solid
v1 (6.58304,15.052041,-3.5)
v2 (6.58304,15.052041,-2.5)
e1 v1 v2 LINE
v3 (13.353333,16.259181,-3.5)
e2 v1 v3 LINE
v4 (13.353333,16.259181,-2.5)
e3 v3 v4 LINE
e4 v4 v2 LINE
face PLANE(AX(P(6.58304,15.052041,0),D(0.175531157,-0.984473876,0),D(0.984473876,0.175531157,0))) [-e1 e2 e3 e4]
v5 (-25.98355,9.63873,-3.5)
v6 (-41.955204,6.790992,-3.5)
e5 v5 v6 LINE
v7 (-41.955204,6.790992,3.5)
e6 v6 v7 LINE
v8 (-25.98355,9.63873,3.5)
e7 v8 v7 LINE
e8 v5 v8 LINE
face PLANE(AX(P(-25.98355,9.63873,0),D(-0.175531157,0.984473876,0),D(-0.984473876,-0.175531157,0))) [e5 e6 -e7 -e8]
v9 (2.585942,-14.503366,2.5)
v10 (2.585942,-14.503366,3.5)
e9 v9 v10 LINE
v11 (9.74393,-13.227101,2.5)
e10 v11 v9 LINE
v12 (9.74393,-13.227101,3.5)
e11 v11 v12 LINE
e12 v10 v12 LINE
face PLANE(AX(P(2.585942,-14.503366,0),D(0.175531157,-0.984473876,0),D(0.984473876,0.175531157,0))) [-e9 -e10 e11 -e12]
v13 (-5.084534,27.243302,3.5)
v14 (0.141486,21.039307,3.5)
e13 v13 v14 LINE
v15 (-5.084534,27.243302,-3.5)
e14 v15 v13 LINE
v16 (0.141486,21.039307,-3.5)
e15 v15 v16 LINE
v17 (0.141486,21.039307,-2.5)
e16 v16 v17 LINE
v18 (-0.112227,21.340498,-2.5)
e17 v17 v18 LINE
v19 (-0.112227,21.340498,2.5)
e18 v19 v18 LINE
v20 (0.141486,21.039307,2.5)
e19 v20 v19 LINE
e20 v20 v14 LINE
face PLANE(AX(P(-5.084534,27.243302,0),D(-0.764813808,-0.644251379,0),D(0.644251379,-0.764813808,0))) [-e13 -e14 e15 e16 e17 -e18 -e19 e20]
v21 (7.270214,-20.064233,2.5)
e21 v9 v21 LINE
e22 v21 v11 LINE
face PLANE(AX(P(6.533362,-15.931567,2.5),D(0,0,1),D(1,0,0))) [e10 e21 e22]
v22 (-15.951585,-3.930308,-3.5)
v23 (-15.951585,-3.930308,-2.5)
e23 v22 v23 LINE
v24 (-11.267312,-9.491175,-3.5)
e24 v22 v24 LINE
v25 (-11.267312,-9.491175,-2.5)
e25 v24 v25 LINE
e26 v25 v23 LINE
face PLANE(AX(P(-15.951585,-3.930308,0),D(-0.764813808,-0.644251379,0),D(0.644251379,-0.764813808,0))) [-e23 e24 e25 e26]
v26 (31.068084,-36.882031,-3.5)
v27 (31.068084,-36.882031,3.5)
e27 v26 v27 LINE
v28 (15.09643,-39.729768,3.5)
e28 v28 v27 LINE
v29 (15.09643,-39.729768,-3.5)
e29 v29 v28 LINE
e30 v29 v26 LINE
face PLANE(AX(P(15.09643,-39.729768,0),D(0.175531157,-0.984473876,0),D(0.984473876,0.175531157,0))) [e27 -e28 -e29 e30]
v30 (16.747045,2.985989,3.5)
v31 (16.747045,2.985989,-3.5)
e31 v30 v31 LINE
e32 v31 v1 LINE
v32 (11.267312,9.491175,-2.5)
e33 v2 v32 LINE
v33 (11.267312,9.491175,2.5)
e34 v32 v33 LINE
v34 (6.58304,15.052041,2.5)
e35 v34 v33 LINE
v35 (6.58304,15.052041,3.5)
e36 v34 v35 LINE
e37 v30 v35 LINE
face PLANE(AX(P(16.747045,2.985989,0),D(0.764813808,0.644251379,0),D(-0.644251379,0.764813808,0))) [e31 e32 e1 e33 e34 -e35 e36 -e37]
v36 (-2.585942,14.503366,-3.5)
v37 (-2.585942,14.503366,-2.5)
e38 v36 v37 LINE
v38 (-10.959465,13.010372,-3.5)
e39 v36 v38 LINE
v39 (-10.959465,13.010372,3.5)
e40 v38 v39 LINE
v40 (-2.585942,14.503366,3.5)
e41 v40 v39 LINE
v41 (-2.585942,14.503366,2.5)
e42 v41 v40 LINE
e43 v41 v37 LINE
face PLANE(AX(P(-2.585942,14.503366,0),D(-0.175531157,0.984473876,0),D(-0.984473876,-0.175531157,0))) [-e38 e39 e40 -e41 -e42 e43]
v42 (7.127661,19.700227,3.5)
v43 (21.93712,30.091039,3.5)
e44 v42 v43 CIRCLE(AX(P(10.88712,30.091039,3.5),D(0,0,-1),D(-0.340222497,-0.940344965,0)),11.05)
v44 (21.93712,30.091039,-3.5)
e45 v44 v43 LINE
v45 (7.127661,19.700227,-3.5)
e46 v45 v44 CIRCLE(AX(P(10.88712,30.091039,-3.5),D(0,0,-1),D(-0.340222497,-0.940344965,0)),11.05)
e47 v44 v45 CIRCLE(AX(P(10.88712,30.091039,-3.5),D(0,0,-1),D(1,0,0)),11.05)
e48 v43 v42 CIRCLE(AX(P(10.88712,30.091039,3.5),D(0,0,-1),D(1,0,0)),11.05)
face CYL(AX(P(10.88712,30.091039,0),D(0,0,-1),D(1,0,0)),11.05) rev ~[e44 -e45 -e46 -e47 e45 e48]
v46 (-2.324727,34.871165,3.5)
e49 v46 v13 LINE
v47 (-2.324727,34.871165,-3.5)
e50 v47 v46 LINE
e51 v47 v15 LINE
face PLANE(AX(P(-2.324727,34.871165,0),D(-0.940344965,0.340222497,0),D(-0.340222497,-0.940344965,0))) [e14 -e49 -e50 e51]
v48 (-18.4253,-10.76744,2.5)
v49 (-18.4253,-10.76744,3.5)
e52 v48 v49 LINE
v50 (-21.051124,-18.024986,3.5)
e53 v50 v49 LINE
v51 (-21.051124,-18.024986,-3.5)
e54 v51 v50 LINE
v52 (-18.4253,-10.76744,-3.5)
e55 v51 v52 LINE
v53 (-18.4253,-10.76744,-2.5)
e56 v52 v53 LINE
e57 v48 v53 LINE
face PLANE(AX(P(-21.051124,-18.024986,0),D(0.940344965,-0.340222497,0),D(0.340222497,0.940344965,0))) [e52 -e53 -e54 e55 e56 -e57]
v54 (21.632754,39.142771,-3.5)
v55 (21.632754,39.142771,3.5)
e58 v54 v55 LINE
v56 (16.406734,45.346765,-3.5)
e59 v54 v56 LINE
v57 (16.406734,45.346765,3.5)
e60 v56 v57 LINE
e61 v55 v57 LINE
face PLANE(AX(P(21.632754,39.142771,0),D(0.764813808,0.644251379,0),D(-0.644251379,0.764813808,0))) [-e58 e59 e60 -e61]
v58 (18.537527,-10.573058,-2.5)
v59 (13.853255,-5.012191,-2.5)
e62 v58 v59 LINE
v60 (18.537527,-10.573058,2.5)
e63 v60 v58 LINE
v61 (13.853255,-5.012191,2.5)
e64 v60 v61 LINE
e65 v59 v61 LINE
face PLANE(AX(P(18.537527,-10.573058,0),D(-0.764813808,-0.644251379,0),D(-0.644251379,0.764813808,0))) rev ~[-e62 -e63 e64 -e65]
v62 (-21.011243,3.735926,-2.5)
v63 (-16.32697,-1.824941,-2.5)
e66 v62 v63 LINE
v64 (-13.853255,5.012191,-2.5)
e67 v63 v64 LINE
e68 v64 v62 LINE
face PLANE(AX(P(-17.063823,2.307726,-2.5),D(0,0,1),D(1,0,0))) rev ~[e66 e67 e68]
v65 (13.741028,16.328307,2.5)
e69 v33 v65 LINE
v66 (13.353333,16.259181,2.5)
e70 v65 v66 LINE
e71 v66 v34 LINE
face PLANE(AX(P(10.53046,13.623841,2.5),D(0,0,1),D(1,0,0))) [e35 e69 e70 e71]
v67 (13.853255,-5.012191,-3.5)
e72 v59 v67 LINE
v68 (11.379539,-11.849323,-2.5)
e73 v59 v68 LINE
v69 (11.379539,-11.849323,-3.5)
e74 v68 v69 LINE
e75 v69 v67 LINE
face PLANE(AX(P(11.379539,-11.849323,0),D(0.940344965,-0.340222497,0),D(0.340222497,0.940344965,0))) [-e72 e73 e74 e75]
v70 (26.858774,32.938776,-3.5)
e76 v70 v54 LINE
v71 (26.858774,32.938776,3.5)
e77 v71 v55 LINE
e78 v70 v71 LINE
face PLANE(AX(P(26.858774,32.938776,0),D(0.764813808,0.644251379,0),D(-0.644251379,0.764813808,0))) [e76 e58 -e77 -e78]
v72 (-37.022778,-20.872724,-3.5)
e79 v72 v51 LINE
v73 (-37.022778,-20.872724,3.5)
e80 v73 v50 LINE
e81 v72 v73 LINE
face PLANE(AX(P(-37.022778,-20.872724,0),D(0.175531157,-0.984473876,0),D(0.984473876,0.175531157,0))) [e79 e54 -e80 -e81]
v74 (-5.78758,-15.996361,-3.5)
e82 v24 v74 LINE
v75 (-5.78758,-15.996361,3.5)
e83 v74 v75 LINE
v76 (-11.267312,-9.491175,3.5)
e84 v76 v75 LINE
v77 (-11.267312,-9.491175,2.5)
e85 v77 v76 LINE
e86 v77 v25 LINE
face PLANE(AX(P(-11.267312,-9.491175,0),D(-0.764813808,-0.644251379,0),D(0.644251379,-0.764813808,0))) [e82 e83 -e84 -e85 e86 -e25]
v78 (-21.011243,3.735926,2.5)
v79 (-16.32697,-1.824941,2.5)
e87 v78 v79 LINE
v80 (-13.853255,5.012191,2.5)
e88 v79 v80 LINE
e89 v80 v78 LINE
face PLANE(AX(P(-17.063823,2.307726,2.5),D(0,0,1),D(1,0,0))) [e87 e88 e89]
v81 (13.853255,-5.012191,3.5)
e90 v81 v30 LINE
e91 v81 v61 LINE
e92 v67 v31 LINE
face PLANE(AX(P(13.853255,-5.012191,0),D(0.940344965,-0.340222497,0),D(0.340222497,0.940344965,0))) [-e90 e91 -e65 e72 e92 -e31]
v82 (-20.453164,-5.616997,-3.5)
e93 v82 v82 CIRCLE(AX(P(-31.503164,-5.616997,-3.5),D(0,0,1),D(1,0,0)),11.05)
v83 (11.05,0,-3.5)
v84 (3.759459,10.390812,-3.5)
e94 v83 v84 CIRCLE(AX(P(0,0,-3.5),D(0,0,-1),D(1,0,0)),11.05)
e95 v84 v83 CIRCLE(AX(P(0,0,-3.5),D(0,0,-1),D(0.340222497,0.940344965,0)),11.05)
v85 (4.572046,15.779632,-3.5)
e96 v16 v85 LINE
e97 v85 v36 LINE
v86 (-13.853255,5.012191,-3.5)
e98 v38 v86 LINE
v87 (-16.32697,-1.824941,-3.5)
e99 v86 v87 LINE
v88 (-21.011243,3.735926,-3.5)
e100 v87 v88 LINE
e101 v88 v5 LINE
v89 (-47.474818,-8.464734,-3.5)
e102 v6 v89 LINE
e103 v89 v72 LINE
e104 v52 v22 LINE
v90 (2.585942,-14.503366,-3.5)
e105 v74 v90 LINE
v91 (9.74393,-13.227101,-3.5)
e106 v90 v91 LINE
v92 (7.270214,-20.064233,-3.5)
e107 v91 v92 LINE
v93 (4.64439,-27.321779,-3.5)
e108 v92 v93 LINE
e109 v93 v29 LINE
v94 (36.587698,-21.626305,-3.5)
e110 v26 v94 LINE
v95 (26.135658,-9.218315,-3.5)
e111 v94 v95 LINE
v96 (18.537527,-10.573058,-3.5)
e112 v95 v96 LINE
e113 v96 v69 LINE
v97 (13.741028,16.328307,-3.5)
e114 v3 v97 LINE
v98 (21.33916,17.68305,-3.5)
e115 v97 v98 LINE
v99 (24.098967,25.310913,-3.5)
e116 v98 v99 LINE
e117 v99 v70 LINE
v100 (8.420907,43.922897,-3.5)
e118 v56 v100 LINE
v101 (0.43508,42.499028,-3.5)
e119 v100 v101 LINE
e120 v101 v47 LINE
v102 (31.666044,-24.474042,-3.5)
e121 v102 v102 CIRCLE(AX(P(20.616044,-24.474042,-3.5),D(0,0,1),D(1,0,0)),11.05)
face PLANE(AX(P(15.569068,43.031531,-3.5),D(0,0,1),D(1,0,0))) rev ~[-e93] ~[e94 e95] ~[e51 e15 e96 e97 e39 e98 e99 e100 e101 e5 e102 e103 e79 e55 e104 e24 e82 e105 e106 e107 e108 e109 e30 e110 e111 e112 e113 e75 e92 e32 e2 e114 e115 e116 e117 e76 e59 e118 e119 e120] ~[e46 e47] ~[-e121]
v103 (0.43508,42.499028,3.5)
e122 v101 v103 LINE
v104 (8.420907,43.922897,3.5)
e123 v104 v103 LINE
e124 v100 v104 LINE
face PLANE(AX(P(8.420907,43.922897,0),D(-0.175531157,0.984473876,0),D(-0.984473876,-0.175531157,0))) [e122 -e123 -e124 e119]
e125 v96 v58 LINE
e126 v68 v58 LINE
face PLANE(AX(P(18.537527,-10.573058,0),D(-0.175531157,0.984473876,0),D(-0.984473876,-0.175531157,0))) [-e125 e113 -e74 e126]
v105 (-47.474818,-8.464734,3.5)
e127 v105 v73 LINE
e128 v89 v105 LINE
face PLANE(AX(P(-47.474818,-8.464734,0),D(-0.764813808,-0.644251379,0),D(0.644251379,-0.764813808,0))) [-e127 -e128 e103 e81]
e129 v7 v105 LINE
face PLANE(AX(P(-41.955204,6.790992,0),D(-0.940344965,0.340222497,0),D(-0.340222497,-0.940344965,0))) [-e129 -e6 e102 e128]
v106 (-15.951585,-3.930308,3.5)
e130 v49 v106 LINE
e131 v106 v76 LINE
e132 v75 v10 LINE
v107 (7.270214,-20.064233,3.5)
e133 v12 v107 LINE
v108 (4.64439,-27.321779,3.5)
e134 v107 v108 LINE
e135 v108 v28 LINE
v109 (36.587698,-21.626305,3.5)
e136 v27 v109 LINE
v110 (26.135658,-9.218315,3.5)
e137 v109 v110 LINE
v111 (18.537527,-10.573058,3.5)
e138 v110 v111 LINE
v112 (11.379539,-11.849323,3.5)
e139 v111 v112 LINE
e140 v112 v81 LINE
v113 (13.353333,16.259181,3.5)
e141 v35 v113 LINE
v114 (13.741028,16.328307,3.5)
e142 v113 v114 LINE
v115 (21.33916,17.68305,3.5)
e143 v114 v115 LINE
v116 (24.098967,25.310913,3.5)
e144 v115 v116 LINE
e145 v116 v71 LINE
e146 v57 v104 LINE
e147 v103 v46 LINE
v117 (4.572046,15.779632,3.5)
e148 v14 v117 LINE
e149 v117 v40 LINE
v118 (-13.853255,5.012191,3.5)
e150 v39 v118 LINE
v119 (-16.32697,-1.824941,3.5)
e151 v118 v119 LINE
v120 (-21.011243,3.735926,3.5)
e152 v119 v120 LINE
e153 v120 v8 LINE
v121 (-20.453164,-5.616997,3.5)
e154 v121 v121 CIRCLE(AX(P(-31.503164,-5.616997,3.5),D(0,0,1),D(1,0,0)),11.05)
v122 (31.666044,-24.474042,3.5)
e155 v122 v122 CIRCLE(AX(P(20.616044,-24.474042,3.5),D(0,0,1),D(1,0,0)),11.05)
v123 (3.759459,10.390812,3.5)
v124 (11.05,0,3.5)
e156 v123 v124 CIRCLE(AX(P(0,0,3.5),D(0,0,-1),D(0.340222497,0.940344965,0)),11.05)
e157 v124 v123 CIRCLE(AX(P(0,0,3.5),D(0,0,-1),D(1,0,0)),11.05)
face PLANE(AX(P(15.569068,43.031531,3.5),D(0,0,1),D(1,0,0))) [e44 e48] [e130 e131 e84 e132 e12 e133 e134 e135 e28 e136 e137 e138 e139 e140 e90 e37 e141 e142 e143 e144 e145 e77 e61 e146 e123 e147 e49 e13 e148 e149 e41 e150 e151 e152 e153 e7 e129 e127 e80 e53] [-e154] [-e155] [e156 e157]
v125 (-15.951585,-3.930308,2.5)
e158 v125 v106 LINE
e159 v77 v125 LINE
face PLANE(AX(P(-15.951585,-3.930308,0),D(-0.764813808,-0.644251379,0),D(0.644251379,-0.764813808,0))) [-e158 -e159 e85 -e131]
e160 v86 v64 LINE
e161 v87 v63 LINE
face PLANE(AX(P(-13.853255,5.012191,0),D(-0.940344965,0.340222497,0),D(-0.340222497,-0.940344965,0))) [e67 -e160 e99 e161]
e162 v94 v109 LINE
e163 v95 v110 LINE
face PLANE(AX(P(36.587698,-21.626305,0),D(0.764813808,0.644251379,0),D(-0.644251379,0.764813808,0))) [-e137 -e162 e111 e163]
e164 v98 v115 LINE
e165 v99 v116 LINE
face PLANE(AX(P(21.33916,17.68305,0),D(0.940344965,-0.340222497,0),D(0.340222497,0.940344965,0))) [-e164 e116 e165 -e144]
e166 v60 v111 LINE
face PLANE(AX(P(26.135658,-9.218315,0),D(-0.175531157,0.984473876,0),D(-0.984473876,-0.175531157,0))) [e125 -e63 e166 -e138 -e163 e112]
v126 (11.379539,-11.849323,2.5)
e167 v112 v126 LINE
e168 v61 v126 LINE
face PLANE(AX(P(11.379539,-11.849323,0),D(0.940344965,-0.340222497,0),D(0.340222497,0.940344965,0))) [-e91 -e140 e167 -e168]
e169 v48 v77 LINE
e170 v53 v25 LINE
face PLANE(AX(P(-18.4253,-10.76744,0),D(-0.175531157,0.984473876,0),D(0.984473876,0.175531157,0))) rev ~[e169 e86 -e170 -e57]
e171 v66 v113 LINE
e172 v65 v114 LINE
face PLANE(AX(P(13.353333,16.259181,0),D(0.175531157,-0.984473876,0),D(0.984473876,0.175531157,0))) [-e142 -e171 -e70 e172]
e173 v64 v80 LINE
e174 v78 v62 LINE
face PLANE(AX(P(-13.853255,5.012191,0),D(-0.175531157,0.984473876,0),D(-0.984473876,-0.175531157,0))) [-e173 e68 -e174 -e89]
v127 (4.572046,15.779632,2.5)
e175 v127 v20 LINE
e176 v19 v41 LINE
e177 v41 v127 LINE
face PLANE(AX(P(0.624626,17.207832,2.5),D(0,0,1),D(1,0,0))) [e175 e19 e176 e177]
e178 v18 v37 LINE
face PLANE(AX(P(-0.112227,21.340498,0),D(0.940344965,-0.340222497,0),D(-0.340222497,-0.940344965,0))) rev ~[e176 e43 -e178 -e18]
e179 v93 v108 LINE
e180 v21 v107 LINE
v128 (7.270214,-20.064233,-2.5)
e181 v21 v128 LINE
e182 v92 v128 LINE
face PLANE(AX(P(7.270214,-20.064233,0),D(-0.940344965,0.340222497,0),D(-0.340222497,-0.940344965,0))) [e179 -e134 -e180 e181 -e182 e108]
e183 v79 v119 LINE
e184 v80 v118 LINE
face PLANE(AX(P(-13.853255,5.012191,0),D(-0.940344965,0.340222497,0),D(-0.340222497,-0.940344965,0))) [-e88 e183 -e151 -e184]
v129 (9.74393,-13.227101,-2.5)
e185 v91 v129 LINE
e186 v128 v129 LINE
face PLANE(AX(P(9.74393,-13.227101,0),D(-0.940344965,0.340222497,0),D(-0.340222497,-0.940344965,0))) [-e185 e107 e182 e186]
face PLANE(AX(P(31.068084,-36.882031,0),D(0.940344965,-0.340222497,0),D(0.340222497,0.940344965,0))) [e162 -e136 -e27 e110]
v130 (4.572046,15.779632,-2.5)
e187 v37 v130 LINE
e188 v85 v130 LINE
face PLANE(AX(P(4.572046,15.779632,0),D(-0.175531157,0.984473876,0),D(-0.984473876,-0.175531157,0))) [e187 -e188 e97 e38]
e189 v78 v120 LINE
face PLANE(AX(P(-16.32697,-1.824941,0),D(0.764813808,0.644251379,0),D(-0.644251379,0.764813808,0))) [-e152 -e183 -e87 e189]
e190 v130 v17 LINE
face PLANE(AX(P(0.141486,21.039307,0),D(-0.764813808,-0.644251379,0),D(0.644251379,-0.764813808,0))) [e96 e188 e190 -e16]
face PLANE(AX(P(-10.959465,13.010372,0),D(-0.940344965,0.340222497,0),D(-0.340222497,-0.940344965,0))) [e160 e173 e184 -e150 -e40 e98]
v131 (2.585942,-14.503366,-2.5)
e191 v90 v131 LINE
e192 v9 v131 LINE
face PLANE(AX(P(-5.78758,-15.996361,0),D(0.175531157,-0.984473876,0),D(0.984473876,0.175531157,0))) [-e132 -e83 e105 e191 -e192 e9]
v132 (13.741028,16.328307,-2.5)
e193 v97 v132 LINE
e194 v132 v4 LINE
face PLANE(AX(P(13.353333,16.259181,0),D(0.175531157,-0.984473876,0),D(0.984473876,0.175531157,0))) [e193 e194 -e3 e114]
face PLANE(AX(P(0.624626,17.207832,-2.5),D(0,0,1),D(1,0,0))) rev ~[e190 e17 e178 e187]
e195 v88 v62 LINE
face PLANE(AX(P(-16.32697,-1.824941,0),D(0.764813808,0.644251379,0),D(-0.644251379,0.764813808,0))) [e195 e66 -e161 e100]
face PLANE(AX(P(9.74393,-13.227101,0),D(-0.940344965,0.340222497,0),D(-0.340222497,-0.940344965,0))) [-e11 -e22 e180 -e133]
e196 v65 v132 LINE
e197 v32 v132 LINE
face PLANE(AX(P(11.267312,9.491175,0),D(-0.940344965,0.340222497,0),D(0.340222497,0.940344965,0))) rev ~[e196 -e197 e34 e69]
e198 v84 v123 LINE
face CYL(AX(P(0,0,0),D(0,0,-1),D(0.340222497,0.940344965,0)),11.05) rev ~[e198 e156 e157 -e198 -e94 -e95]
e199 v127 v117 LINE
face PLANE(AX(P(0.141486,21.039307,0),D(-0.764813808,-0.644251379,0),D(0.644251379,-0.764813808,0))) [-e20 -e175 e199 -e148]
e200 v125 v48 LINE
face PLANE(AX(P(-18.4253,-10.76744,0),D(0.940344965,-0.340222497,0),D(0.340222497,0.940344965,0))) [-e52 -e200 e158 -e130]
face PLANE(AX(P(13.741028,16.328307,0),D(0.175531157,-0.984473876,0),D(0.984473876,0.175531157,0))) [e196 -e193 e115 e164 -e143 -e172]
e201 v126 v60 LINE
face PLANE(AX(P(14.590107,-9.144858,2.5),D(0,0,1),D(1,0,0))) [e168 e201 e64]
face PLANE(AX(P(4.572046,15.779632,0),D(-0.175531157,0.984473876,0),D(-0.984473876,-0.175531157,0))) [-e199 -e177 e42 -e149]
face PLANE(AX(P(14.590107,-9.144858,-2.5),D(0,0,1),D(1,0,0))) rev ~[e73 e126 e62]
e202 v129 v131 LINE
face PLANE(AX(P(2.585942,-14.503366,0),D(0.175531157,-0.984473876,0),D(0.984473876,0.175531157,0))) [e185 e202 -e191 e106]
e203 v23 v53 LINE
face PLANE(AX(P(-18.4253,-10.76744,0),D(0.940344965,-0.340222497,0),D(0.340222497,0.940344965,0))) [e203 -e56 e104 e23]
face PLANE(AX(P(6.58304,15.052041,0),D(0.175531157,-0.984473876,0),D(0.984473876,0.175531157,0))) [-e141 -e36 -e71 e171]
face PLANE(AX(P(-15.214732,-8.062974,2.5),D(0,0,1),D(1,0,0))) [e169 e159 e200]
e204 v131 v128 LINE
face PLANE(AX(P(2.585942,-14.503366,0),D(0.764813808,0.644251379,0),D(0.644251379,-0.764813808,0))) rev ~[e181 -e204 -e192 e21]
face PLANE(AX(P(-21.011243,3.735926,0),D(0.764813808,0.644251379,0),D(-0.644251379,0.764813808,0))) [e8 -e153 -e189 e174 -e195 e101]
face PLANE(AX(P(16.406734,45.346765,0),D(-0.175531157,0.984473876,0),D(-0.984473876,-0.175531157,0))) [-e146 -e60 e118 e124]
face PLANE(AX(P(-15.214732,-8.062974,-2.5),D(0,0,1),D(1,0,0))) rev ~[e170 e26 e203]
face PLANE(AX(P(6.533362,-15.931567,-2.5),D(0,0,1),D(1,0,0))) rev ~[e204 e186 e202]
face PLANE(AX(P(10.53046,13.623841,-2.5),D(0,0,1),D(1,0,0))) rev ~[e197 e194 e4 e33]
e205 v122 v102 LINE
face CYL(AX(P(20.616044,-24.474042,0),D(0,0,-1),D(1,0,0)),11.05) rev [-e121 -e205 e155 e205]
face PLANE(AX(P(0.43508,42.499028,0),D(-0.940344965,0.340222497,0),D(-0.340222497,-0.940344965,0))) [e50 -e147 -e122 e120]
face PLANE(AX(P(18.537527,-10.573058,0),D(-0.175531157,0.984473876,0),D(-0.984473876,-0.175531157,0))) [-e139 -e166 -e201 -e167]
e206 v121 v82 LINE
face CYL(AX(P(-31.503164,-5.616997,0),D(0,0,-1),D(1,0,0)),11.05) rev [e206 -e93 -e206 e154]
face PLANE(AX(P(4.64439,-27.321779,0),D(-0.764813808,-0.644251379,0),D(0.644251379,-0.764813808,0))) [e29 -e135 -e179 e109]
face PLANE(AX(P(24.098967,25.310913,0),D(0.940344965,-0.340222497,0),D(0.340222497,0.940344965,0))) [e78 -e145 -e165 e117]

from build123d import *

# Parameters (mm, degrees)
F0_R     = 11.05
F1_DEPTH = 3.5
F2_DEPTH = 2.5


with BuildPart() as f1:
    # F0 (on Top) → F1 (new body, symmetric)
    with BuildSketch(Plane.XY):
        with BuildLine():
            Line((16.4067340595, 45.3467654298), (8.4209065052, 43.9228967168))
            ThreePointArc((8.4209065052, 43.9228967168), (15.6672457553, 43.3028857057), (21.6327540042, 39.1427706216))
            Line((21.6327540042, 39.1427706216), (16.4067340595, 45.3467654298))
        make_face()
        with BuildLine():
            Line((0.4350802259, 42.4990282311), (-2.3247269809, 34.8711645999))
            ThreePointArc((-2.3247269809, 34.8711645999), (1.8353876304, 40.8366725376), (8.4209065052, 43.9228967168))
            Line((8.4209065052, 43.9228967168), (0.4350802259, 42.4990282311))
        make_face()
        with BuildLine():
            ThreePointArc((24.9371199001, 30.0910388701), (24.7259953173, 27.6645131258), (24.0989665638, 25.3109125396))
            Line((24.0989665638, 25.3109125396), (26.8587737337, 32.9387760688))
            Line((26.8587737337, 32.9387760688), (21.6327540042, 39.1427706216))
            ThreePointArc((21.6327540042, 39.1427706216), (24.0852004265, 34.9090436873), (24.9371199001, 30.0910388701))
        make_face()
        with BuildLine():
            Line((-5.0845339335, 27.2433016714), (-0.112226606, 21.3404981668))
            Line((-0.112226606, 21.3404981668), (-0.1100221461, 21.3465910994))
            ThreePointArc((-0.1100221461, 21.3465910994), (-2.9782076587, 27.8205341493), (-2.3247269809, 34.8711645999))
            Line((-2.3247269809, 34.8711645999), (-5.0845339335, 27.2433016714))
        make_face()
        with BuildLine():
            Line((13.7432325819, 16.334399733), (13.741028122, 16.3283068004))
            Line((13.741028122, 16.3283068004), (21.3391595743, 17.6830495091))
            Line((21.3391595743, 17.6830495091), (24.0989665638, 25.3109125396))
            ThreePointArc((24.0989665638, 25.3109125396), (20.0897974955, 19.474390384), (13.7432325819, 16.334399733))
        make_face()
        with BuildLine():
            Line((-0.112226606, 21.3404981668), (0.1414857049, 21.0393072268))
            ThreePointArc((0.1414857049, 21.0393072268), (0.0146461468, 21.1920605869), (-0.1100221461, 21.3465910994))
            Line((-0.1100221461, 21.3465910994), (-0.112226606, 21.3404981668))
        make_face()
        with BuildLine():
            ThreePointArc((13.7432325819, 16.334399733), (13.5485483413, 16.2954128005), (13.3533326046, 16.2591809003))
            Line((13.3533326046, 16.2591809003), (13.741028122, 16.3283068004))
            Line((13.741028122, 16.3283068004), (13.7432325819, 16.334399733))
        make_face()
        Polygon((18.5375268448, -10.5730579916), (11.3795390219, -11.8493233304), (10.9594646934, -13.0103717128), (9.743930135, -13.227100864), (7.2702144289, -20.064232828), (4.6443903041, -27.3217790413), (15.0964299783, -39.7297684023), (31.0680838119, -36.8820312036), (36.5876979713, -21.6263046439), (26.1356582971, -9.2183152829), align=None)
        with Locations((20.6160441377, -24.4740418426)):
            Circle(F0_R, mode=Mode.SUBTRACT)
        Polygon((-16.7470447626, -2.98598898), (-16.3269704341, -1.8249405976), (-21.0112425509, 3.7359260276), (-25.9835498784, 9.6387295322), (-41.955203712, 6.7909923335), (-47.4748178714, -8.4647342262), (-37.0227781972, -20.8727235872), (-21.0511243636, -18.0249863885), (-18.4253002388, -10.7674401752), (-15.9515845328, -3.9303082112), align=None)
        with Locations((-31.5031640378, -5.6169970275)):
            Circle(F0_R, mode=Mode.SUBTRACT)
        with BuildLine():
            ThreePointArc((0.1414857049, 21.0393072268), (2.850394978, 18.5665626335), (6.106993819, 16.8791921162))
            ThreePointArc((6.106993819, 16.8791921162), (9.6893501995, 16.092187212), (13.3533326046, 16.2591809003))
            ThreePointArc((13.3533326046, 16.2591809003), (13.5485483413, 16.2954128005), (13.7432325819, 16.334399733))
            ThreePointArc((13.7432325819, 16.334399733), (20.0897974955, 19.474390384), (24.0989665638, 25.3109125396))
            ThreePointArc((24.0989665638, 25.3109125396), (24.7259953173, 27.6645131258), (24.9371199001, 30.0910388701))
            ThreePointArc((24.9371199001, 30.0910388701), (24.0852004265, 34.9090436873), (21.6327540042, 39.1427706216))
            ThreePointArc((21.6327540042, 39.1427706216), (15.6672457553, 43.3028857057), (8.4209065052, 43.9228967168))
            ThreePointArc((8.4209065052, 43.9228967168), (1.8353876304, 40.8366725376), (-2.3247269809, 34.8711645999))
            ThreePointArc((-2.3247269809, 34.8711645999), (-2.9782076587, 27.8205341493), (-0.1100221461, 21.3465910994))
            ThreePointArc((-0.1100221461, 21.3465910994), (0.0146461468, 21.1920605869), (0.1414857049, 21.0393072268))
        make_face()
        with BuildLine():
            ThreePointArc((21.9371199001, 30.0910388701), (17.2337915702, 21.0454731767), (7.1276613096, 19.7002270103))
            ThreePointArc((7.1276613096, 19.7002270103), (4.5404482301, 39.1366045634), (21.9371199001, 30.0910388701))
        make_face(mode=Mode.SUBTRACT)
        Polygon((6.5830402991, 15.0520414616), (5.3675057407, 14.8353123104), (4.5720455108, 15.7796315416), (-2.5859423121, 14.5033662028), (-10.9594646934, 13.0103717128), (-13.853254728, 5.0121913664), (-16.3269704341, -1.8249405976), (-15.5315102042, -2.7692598288), (-15.9515845328, -3.9303082112), (-11.2673124159, -9.4911748364), (-5.7875800692, -15.9963606927), (2.5859423121, -14.5033662028), (9.743930135, -13.227100864), (10.1640044635, -12.0660524816), (11.3795390219, -11.8493233304), (13.853254728, -5.0121913664), (16.7470447626, 2.98598898), (11.2673124159, 9.4911748364), align=None)
        with BuildLine():
            ThreePointArc((3.7594585905, 10.3908118598), (9.0455656933, 6.3466716701), (11.05, 0))
            ThreePointArc((11.05, 0), (-9.0455656933, -6.3466716701), (3.7594585905, 10.3908118598))
        make_face(mode=Mode.SUBTRACT)
        with BuildLine():
            Line((6.106993819, 16.8791921162), (5.7875800692, 15.9963606927))
            Line((5.7875800692, 15.9963606927), (6.5830402991, 15.0520414616))
            Line((6.5830402991, 15.0520414616), (13.3533326046, 16.2591809003))
            ThreePointArc((13.3533326046, 16.2591809003), (9.6893501995, 16.092187212), (6.106993819, 16.8791921162))
        make_face()
        with BuildLine():
            Line((4.5720455108, 15.7796315416), (5.7875800692, 15.9963606927))
            Line((5.7875800692, 15.9963606927), (6.106993819, 16.8791921162))
            ThreePointArc((6.106993819, 16.8791921162), (2.850394978, 18.5665626335), (0.1414857049, 21.0393072268))
            Line((0.1414857049, 21.0393072268), (4.5720455108, 15.7796315416))
        make_face()
        Polygon((4.5720455108, 15.7796315416), (5.3675057407, 14.8353123104), (5.7875800692, 15.9963606927), align=None)
        Polygon((5.7875800692, 15.9963606927), (5.3675057407, 14.8353123104), (6.5830402991, 15.0520414616), align=None)
        Polygon((10.9594646934, -13.0103717128), (11.3795390219, -11.8493233304), (10.1640044635, -12.0660524816), (9.743930135, -13.227100864), align=None)
        Polygon((-15.5315102042, -2.7692598288), (-16.3269704341, -1.8249405976), (-16.7470447626, -2.98598898), (-15.9515845328, -3.9303082112), align=None)
    extrude(amount=F1_DEPTH, both=True)

    # F0 (on Top) → F2 (join, symmetric)
    with BuildSketch(Plane.XY):
        Polygon((-2.5859423121, 14.5033662028), (4.5720455108, 15.7796315416), (0.1414857049, 21.0393072268), (-0.112226606, 21.3404981668), align=None)
        Polygon((13.3533326046, 16.2591809003), (6.5830402991, 15.0520414616), (11.2673124159, 9.4911748364), (13.741028122, 16.3283068004), align=None)
        Polygon((18.5375268448, -10.5730579916), (13.853254728, -5.0121913664), (11.3795390219, -11.8493233304), align=None)
        Polygon((7.2702144289, -20.064232828), (9.743930135, -13.227100864), (2.5859423121, -14.5033662028), align=None)
        Polygon((-11.2673124159, -9.4911748364), (-15.9515845328, -3.9303082112), (-18.4253002388, -10.7674401752), align=None)
        Polygon((-16.3269704341, -1.8249405976), (-13.853254728, 5.0121913664), (-21.0112425509, 3.7359260276), align=None)
    extrude(amount=F2_DEPTH, both=True)


solid = f1.part
